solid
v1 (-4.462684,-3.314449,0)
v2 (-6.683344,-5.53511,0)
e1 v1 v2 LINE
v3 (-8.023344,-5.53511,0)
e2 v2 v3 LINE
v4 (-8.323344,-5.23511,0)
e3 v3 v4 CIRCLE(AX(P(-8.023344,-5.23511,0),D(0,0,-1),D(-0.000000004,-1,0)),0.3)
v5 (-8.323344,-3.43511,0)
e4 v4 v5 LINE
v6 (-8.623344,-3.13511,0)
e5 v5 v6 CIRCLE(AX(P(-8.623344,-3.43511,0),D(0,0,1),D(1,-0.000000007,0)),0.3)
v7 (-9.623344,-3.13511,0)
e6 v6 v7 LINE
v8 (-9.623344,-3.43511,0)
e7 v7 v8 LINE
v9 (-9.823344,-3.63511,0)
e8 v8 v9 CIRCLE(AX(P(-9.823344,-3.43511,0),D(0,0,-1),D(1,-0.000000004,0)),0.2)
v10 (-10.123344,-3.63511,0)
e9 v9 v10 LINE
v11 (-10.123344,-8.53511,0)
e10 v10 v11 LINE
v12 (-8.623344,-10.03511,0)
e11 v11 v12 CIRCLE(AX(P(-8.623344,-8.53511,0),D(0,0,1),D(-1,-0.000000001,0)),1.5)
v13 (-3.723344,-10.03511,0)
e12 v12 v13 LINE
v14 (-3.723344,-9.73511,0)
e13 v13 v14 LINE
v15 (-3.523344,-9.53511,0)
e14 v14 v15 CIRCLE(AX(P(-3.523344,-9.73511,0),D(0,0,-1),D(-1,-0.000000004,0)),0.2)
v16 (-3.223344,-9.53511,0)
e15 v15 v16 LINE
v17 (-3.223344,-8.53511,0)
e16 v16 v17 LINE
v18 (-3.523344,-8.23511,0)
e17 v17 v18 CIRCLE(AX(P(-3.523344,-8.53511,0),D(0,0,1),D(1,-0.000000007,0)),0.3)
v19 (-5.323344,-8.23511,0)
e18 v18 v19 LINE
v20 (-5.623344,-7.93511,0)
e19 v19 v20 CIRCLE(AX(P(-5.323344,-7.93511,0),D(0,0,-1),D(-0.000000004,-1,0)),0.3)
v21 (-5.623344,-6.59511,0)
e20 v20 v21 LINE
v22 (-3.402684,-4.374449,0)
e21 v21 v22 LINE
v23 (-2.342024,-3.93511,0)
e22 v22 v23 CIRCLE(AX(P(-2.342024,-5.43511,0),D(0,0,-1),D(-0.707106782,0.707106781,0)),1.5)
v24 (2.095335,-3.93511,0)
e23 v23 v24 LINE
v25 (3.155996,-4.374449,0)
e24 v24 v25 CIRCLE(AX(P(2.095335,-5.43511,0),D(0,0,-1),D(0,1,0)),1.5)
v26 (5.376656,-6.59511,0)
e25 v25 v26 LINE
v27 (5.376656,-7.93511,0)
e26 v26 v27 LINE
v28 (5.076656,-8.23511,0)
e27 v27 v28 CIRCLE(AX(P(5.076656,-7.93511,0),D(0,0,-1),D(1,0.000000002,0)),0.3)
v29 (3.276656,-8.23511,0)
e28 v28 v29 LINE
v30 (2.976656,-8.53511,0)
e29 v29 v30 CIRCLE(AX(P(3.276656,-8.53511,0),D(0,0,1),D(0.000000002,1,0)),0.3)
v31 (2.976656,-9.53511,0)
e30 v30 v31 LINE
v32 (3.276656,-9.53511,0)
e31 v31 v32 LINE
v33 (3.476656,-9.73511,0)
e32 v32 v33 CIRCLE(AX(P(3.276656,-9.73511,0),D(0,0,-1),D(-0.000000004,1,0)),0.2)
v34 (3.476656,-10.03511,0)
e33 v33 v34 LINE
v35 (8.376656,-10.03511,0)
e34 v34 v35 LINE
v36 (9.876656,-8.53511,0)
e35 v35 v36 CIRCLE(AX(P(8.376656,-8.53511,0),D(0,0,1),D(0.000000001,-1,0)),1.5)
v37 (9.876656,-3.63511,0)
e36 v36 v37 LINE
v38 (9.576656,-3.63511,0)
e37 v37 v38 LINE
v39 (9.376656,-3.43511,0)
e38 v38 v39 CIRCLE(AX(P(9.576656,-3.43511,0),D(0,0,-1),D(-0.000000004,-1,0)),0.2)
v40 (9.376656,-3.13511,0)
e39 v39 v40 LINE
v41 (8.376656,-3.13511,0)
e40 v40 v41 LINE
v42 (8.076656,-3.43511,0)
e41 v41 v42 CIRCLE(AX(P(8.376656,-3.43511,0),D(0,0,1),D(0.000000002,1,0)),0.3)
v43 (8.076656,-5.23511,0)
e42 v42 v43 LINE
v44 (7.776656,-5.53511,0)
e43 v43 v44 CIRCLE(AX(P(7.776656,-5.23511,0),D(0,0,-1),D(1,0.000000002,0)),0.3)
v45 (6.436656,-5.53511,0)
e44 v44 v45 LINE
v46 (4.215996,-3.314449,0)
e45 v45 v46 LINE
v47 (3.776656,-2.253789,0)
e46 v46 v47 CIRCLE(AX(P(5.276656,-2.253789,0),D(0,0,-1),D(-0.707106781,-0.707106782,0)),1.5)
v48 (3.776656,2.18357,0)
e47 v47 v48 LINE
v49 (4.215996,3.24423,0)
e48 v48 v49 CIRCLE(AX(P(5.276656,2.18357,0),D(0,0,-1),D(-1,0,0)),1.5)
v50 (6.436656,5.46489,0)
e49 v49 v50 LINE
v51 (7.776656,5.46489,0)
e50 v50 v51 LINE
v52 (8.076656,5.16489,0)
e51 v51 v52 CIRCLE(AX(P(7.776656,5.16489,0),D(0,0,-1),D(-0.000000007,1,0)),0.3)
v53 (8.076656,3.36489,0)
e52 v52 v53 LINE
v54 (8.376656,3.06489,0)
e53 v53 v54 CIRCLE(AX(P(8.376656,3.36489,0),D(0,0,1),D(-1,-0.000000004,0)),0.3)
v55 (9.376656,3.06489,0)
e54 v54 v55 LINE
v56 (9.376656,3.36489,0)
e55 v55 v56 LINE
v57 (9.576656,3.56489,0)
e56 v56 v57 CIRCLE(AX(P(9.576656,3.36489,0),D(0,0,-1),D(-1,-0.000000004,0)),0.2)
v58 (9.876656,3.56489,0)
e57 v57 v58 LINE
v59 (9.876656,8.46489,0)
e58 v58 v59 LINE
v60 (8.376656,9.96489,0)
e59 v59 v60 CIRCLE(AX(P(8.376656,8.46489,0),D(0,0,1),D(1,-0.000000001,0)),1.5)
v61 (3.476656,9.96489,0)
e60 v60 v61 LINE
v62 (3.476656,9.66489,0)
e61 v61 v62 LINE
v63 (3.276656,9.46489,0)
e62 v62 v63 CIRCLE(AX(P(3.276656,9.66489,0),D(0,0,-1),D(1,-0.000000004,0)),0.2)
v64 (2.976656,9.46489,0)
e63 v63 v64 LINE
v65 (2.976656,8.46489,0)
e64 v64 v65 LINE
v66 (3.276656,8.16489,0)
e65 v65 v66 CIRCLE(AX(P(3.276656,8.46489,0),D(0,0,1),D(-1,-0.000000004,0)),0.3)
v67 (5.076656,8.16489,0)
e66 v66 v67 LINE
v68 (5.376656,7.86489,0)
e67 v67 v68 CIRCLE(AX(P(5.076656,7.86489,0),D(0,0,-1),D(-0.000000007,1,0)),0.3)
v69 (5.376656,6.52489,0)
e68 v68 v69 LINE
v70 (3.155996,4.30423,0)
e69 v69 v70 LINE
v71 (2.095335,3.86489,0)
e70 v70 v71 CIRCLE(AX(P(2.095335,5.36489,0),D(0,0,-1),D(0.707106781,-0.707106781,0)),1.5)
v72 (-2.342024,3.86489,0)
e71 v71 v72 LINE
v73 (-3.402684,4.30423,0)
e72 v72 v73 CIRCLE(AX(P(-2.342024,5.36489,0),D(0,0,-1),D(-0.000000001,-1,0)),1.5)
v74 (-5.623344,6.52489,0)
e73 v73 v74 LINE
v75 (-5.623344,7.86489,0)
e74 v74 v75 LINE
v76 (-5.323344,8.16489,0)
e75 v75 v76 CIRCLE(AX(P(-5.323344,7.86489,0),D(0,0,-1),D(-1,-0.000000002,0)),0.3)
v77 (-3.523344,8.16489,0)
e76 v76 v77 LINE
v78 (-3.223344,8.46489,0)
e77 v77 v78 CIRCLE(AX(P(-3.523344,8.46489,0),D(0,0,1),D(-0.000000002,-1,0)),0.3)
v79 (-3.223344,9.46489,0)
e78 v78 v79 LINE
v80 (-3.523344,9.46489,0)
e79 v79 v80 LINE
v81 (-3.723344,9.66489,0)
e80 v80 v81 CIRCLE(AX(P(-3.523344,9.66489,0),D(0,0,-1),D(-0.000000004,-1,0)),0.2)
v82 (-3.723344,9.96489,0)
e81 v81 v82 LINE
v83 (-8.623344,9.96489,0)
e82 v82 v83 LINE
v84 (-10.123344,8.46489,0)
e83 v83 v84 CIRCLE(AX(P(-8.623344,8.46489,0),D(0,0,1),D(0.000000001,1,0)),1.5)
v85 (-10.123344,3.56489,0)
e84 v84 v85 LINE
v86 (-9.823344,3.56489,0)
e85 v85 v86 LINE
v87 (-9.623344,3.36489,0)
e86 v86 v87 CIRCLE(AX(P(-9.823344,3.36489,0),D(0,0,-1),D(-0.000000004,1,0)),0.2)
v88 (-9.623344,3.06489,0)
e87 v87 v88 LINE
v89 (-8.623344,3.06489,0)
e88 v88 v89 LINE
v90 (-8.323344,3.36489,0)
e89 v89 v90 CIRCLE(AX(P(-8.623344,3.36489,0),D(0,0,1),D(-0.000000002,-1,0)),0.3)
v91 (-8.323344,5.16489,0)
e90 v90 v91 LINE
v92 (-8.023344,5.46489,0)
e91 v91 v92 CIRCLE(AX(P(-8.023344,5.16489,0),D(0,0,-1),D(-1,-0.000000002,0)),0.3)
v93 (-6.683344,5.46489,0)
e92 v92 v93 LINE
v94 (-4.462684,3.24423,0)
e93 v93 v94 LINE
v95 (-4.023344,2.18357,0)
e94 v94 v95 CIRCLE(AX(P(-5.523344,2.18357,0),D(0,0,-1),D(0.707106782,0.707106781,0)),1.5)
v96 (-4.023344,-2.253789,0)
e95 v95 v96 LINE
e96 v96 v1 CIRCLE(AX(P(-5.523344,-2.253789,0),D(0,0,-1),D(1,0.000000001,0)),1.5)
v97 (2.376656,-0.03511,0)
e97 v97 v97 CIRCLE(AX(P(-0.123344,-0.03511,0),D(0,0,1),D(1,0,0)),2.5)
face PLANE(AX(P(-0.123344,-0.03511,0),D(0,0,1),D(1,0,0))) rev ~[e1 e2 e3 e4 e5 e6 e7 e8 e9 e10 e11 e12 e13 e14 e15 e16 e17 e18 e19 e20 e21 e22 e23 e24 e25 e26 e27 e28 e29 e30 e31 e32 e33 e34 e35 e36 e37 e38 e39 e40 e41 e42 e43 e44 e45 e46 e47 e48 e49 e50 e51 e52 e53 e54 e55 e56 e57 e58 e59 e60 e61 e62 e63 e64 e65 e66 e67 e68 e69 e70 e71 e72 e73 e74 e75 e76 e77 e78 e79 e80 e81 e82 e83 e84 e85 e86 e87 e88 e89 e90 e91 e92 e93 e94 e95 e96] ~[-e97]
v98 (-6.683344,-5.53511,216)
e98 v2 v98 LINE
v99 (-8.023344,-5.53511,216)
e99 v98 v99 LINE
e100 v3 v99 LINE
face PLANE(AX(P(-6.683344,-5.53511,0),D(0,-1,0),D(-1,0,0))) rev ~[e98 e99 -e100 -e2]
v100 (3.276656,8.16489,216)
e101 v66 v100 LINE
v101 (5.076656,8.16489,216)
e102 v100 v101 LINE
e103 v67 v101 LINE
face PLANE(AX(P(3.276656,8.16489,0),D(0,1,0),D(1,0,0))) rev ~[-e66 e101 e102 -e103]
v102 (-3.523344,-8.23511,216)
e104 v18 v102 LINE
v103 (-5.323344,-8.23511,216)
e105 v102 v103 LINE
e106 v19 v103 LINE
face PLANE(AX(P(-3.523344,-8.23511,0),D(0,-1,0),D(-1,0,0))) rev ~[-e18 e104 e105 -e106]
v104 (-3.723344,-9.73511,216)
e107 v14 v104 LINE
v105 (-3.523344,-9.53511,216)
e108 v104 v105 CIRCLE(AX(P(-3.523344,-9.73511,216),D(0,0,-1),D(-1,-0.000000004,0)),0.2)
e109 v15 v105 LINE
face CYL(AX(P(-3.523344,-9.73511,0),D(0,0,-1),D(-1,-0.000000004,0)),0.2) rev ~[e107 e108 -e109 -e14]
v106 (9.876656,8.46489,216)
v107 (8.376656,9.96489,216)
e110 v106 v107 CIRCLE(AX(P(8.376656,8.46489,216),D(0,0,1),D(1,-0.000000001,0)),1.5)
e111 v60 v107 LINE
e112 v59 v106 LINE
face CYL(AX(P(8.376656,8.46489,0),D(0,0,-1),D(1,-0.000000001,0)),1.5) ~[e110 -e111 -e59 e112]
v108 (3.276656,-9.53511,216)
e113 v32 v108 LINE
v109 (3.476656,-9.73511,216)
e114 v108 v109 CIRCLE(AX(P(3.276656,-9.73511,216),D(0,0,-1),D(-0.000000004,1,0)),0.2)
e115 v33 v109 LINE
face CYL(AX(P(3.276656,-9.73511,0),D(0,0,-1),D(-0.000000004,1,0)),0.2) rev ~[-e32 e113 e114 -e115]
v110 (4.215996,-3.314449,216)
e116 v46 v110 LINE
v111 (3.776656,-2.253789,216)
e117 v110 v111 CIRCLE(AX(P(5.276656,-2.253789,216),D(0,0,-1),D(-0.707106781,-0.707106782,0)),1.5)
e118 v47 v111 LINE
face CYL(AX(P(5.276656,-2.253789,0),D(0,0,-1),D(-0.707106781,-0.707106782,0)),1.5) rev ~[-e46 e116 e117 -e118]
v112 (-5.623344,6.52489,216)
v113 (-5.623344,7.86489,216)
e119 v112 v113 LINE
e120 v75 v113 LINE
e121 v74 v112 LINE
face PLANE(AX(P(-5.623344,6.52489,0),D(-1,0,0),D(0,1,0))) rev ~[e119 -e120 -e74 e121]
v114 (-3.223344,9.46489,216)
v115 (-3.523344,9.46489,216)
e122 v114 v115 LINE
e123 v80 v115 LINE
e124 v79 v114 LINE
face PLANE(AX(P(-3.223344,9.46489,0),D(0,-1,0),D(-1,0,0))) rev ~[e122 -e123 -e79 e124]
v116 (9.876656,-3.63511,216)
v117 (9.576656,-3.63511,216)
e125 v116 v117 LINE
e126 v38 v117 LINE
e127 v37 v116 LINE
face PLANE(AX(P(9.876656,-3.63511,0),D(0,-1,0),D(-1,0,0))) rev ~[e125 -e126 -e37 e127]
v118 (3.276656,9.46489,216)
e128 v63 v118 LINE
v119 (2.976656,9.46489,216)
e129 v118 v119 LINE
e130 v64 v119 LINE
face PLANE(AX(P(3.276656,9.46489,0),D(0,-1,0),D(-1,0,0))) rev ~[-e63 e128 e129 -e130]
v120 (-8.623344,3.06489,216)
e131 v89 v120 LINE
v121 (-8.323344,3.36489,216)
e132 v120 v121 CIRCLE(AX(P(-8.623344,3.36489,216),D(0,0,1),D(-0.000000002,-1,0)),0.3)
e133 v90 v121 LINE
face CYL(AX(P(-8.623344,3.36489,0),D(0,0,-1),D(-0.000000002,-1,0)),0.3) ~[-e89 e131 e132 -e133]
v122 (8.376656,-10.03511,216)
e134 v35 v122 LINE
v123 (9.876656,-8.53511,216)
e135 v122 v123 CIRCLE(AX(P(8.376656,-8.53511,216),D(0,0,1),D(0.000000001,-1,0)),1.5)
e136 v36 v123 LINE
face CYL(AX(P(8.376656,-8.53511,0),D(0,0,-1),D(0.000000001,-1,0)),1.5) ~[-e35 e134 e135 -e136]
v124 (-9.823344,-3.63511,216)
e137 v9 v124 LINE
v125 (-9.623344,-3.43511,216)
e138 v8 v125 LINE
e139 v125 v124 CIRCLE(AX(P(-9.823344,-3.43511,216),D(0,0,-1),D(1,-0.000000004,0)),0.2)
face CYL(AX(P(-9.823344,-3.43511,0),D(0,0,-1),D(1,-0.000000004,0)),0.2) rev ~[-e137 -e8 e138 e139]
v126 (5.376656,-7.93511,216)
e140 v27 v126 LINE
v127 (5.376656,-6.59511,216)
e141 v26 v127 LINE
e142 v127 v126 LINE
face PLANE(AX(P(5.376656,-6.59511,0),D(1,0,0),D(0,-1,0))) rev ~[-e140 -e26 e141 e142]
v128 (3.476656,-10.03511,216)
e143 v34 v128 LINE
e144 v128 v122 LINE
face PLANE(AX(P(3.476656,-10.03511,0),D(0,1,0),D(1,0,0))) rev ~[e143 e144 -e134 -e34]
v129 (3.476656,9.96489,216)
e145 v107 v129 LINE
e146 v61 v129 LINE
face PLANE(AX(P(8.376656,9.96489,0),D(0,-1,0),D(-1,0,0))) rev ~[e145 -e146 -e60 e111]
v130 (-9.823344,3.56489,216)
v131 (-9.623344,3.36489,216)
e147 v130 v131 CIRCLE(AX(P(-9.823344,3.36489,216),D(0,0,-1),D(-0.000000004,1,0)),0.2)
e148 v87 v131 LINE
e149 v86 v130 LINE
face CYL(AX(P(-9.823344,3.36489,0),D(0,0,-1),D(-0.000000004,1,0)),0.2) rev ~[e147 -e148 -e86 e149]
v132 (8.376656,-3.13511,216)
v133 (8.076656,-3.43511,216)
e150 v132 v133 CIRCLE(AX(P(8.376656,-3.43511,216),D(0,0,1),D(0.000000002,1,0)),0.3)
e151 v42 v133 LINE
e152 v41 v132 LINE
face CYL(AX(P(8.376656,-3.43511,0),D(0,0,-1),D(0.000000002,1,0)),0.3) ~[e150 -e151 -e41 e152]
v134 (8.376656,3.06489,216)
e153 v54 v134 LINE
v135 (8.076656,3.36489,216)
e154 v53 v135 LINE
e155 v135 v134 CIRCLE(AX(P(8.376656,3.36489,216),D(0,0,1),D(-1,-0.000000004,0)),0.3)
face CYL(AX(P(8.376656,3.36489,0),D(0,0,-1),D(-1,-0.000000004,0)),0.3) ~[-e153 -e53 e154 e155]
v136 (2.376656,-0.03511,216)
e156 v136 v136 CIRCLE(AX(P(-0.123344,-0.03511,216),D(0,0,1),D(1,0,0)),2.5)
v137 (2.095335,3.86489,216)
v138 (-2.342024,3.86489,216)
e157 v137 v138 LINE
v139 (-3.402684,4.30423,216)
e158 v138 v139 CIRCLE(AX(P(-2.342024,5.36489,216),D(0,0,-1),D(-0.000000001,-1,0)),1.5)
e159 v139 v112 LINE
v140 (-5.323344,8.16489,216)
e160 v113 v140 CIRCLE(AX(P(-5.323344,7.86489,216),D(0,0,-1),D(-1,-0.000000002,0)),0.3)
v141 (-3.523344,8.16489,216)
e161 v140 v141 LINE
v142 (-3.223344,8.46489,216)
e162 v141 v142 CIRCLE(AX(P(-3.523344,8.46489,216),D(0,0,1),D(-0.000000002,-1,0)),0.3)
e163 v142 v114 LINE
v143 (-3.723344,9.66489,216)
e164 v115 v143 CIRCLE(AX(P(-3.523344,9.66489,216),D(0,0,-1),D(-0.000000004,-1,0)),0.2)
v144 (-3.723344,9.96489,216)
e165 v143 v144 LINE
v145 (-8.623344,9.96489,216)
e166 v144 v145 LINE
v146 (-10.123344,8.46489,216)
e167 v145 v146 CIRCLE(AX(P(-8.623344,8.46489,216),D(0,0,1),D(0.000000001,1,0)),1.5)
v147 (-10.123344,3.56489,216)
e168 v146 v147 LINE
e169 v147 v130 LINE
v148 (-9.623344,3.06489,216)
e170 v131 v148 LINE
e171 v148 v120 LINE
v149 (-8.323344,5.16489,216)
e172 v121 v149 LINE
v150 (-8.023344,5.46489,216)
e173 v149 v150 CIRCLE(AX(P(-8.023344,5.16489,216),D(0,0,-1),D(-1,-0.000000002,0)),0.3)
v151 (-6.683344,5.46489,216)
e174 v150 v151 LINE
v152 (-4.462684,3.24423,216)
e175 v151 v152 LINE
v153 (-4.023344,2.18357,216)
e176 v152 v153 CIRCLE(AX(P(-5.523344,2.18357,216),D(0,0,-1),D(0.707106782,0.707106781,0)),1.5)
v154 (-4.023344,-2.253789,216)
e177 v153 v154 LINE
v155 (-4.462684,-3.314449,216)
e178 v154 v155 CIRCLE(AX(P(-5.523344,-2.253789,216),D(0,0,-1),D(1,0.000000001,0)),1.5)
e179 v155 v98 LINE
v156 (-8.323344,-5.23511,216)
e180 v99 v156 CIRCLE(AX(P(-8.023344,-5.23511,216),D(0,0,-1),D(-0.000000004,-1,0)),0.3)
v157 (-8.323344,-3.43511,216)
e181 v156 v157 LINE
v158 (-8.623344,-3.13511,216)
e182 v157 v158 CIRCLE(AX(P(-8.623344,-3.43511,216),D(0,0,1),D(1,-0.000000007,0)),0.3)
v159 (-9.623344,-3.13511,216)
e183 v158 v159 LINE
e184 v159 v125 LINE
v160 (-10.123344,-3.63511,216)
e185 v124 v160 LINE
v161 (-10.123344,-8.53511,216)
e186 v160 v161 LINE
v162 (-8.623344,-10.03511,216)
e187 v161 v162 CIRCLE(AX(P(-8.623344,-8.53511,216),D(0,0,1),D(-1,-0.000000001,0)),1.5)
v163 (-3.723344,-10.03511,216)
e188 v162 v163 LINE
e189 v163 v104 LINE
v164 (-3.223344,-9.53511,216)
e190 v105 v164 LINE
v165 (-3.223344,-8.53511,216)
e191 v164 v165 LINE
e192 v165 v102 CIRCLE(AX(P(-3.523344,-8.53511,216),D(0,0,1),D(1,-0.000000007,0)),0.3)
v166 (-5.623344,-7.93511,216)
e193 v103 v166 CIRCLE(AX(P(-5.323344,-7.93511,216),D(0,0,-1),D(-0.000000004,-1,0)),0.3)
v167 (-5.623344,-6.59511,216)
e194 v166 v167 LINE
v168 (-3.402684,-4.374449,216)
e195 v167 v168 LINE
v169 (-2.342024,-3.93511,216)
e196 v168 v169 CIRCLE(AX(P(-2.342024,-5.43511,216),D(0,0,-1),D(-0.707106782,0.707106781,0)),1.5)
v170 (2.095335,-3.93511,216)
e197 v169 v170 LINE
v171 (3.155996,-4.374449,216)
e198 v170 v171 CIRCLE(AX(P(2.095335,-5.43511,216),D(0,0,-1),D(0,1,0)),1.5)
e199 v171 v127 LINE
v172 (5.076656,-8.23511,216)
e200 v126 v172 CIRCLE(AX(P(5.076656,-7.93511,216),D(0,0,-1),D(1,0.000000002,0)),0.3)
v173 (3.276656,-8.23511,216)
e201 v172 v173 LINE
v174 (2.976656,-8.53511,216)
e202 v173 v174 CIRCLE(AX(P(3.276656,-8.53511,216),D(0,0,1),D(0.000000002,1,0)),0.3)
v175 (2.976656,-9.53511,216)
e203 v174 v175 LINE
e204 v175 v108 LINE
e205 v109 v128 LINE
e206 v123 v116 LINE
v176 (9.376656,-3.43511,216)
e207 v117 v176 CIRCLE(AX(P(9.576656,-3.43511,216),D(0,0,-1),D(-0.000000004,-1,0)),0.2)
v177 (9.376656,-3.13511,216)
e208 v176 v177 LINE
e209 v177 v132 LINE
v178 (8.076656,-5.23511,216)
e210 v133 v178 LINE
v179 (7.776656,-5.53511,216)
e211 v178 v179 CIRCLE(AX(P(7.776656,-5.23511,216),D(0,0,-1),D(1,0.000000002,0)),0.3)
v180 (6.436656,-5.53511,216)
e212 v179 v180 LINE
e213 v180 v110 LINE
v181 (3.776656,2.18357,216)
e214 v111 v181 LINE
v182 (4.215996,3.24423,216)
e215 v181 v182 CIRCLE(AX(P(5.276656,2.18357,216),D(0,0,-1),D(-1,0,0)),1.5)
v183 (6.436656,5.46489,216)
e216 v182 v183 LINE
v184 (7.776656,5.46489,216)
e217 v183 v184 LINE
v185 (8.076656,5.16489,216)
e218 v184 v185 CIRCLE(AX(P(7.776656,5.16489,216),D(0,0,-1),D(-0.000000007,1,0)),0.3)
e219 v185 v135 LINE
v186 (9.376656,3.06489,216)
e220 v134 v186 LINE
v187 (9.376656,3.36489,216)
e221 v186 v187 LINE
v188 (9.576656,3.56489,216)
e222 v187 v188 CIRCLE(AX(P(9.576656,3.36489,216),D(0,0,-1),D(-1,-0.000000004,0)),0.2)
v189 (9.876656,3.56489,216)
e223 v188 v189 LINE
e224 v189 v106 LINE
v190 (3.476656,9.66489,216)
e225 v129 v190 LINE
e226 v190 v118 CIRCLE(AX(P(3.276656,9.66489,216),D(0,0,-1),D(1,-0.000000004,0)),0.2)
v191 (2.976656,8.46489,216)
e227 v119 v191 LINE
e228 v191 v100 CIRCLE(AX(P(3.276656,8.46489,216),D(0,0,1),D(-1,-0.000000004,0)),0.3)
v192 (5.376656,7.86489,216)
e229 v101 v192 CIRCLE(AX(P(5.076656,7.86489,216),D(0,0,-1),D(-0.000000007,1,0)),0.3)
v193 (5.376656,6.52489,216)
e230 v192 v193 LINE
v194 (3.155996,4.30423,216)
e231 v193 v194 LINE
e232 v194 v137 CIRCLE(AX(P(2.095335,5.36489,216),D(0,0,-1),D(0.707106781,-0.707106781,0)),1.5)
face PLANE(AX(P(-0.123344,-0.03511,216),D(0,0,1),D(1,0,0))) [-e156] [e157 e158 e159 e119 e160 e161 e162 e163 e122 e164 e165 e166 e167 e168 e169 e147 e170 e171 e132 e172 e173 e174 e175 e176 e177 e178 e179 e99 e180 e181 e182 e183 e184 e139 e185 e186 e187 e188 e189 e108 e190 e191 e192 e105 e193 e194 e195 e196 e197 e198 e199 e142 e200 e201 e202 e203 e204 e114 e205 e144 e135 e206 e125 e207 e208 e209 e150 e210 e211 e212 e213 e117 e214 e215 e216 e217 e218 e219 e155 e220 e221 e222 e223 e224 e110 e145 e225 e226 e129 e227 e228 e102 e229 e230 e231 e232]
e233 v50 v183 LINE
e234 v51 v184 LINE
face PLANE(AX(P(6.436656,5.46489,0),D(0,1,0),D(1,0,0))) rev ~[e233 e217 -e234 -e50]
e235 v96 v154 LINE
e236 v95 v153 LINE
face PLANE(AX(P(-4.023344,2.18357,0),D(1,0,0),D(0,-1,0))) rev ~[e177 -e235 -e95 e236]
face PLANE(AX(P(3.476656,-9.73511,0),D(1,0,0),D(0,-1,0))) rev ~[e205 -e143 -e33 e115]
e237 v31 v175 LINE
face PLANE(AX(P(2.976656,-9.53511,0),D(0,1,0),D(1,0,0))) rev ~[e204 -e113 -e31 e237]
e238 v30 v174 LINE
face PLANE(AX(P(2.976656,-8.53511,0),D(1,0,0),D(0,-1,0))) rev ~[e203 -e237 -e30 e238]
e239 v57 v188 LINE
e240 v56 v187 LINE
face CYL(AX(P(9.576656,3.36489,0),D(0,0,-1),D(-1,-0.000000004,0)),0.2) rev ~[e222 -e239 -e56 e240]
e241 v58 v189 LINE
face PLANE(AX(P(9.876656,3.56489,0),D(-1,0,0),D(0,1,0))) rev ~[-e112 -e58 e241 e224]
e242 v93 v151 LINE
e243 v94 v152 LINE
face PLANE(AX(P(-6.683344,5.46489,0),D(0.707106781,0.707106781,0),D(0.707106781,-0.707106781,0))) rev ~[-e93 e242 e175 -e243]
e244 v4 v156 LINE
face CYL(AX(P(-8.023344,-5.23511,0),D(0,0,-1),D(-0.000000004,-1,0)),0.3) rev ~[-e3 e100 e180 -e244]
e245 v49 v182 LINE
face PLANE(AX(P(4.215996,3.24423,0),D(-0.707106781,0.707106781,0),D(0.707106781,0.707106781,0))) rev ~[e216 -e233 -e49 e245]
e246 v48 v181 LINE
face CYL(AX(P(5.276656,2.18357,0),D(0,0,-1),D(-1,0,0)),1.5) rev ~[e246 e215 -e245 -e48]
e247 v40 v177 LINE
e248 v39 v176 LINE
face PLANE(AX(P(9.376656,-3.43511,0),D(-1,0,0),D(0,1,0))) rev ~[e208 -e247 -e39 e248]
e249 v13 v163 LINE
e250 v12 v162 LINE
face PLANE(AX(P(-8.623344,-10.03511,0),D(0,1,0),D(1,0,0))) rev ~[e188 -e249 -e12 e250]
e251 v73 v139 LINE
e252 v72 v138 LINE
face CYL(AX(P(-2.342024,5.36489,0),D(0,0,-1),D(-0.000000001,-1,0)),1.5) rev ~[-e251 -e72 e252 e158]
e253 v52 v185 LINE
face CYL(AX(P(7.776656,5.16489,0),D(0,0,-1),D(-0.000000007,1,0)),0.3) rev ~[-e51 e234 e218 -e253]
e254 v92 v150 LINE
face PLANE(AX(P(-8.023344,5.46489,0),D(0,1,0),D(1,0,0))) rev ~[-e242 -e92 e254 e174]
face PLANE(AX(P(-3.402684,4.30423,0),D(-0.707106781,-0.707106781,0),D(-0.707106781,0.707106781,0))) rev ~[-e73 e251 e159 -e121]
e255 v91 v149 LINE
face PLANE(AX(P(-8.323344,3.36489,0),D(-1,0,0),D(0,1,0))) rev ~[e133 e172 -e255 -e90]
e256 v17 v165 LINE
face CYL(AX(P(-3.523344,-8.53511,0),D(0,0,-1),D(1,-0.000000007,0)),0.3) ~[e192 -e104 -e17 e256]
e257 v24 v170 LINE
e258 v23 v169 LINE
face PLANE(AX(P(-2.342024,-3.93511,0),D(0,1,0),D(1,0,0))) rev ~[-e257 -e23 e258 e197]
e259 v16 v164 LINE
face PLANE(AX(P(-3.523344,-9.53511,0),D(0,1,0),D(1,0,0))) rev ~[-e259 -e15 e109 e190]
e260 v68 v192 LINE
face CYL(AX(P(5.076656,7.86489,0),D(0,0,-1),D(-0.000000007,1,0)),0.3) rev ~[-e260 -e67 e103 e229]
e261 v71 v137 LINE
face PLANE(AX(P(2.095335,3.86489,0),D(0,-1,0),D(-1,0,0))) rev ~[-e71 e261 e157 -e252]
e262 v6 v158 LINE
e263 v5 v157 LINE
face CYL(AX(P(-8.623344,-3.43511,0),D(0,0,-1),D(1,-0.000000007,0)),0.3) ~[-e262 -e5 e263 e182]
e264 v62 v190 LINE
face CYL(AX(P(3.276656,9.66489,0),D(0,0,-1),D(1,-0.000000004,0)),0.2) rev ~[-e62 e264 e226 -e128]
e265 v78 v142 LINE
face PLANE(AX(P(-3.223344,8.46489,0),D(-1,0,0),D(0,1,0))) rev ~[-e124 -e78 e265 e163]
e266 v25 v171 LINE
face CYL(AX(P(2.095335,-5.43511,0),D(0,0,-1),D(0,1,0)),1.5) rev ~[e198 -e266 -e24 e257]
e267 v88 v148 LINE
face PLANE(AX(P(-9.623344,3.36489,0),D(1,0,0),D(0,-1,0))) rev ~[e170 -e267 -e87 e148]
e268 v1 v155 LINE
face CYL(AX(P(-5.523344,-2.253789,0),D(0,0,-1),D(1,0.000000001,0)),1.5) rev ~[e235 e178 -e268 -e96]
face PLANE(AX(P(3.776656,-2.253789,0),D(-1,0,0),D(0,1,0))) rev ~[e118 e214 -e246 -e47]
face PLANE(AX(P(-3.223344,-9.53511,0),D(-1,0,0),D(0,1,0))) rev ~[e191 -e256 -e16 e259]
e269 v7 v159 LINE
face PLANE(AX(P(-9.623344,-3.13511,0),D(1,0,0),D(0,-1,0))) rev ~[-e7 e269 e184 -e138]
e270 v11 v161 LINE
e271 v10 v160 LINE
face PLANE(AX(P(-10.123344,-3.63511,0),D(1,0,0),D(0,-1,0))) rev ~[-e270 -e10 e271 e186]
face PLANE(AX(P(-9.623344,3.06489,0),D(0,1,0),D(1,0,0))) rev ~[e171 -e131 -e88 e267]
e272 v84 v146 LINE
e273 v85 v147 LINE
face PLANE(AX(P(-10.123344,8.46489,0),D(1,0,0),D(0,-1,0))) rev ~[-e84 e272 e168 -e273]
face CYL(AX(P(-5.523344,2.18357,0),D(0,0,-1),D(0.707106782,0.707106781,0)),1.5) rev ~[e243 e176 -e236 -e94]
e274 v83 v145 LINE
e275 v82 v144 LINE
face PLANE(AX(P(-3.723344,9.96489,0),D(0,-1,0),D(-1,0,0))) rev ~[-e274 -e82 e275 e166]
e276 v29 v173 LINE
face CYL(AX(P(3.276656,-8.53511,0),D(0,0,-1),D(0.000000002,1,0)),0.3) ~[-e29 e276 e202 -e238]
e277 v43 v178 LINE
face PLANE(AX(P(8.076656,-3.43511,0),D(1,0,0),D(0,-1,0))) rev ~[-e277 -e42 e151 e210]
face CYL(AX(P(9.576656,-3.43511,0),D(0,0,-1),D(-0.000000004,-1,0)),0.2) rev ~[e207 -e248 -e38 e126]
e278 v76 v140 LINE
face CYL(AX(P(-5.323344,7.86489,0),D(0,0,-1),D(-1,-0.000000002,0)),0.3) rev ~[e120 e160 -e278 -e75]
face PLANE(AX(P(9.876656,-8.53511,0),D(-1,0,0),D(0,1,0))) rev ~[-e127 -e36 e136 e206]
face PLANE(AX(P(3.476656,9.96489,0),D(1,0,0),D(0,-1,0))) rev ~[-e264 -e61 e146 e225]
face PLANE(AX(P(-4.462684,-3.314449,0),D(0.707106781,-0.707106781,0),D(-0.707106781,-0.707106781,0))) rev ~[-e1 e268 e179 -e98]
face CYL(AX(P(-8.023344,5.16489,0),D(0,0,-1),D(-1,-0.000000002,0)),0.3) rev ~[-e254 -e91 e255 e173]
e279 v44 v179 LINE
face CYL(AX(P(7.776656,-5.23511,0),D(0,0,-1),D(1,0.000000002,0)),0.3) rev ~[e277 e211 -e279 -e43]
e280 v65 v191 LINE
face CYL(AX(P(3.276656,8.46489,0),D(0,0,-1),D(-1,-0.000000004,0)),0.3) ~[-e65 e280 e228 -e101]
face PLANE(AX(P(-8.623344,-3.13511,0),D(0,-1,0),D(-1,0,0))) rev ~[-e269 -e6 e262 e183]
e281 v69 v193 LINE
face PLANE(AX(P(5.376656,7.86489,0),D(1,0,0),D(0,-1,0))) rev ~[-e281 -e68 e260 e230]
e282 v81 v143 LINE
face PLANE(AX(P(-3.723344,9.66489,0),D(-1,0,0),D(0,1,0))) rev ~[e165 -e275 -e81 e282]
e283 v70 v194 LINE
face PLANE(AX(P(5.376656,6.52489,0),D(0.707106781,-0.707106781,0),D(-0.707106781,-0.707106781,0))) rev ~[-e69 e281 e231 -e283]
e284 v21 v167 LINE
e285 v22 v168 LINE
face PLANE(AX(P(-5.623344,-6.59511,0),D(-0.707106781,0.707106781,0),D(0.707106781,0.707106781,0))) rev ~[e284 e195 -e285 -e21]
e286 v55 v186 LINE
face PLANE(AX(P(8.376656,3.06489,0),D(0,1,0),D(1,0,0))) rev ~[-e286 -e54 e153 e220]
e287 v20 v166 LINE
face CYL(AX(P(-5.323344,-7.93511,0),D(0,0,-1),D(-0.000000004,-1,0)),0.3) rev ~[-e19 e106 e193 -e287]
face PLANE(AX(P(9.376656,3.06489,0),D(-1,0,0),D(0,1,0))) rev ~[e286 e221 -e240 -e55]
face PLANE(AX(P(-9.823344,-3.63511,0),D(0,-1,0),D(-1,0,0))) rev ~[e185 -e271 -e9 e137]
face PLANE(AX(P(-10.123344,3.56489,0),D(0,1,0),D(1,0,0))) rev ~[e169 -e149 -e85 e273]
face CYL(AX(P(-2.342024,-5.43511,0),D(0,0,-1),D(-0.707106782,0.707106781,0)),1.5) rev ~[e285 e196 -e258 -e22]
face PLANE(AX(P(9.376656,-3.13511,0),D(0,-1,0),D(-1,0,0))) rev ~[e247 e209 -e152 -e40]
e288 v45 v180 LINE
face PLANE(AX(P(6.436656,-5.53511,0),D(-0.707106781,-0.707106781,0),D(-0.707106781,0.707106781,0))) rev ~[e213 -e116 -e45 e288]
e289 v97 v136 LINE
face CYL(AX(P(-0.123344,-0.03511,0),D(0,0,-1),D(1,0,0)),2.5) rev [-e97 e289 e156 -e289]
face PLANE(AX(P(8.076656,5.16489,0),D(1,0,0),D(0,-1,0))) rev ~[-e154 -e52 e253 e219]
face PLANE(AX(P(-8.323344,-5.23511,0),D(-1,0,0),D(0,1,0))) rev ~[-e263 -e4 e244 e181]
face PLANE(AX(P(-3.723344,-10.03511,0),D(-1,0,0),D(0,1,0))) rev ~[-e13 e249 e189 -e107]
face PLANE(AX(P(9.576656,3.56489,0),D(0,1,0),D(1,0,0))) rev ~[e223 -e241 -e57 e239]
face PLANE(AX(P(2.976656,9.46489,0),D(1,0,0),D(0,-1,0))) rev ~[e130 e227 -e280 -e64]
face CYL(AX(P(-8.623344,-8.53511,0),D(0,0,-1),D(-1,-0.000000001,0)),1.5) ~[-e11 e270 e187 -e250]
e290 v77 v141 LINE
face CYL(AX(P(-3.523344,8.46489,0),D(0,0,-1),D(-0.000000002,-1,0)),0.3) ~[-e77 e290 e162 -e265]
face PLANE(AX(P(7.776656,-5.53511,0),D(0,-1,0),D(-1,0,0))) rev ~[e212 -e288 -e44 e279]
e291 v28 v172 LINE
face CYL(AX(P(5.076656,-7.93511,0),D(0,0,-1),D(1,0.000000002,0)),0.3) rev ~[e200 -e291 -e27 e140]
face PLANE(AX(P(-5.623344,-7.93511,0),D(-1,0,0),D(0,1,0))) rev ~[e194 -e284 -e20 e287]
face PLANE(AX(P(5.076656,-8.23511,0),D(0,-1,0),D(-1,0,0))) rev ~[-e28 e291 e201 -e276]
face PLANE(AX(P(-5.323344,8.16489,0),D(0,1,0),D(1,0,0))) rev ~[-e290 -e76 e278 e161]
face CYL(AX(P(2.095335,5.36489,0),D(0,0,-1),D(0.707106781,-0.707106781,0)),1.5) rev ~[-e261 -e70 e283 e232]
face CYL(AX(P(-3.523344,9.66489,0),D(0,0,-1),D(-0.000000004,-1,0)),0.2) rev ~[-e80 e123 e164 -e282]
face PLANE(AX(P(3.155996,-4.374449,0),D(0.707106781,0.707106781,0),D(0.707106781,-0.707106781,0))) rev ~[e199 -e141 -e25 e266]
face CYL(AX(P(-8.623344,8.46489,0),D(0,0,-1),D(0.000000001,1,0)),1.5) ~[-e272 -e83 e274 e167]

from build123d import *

# Parameters (mm, degrees)
SKETCH_1_R      = 2.5
EXTRUDE_1_DEPTH = 216


with BuildPart() as part:
    # 草图1 → 凸台-拉伸1 (new body)
    with BuildSketch(Plane.XY):
        with BuildLine():
            Line((4.215995631, 3.244230202), (6.436655803, 5.464890373))
            Line((6.436655803, 5.464890373), (7.776655803, 5.464890373))
            ThreePointArc((7.776655803, 5.464890373), (7.988787838, 5.377022408), (8.076655803, 5.164890373))
            Line((8.076655803, 5.164890373), (8.076655803, 3.364890373))
            ThreePointArc((8.076655803, 3.364890373), (8.164523769, 3.152758339), (8.376655803, 3.064890373))
            Line((8.376655803, 3.064890373), (9.376655803, 3.064890373))
            Line((9.376655803, 3.064890373), (9.376655803, 3.364890373))
            ThreePointArc((9.376655803, 3.364890373), (9.435234447, 3.50631173), (9.576655803, 3.564890373))
            Line((9.576655803, 3.564890373), (9.876655803, 3.564890373))
            Line((9.876655803, 3.564890373), (9.876655803, 8.464890373))
            ThreePointArc((9.876655803, 8.464890373), (9.437315975, 9.525550545), (8.376655803, 9.964890373))
            Line((8.376655803, 9.964890373), (3.476655803, 9.964890373))
            Line((3.476655803, 9.964890373), (3.476655803, 9.664890373))
            ThreePointArc((3.476655803, 9.664890373), (3.418077159, 9.523469017), (3.276655803, 9.464890373))
            Line((3.276655803, 9.464890373), (2.976655803, 9.464890373))
            Line((2.976655803, 9.464890373), (2.976655803, 8.464890373))
            ThreePointArc((2.976655803, 8.464890373), (3.064523769, 8.252758339), (3.276655803, 8.164890373))
            Line((3.276655803, 8.164890373), (5.076655803, 8.164890373))
            ThreePointArc((5.076655803, 8.164890373), (5.288787838, 8.077022408), (5.376655803, 7.864890373))
            Line((5.376655803, 7.864890373), (5.376655803, 6.524890373))
            Line((5.376655803, 6.524890373), (3.155995631, 4.304230202))
            ThreePointArc((3.155995631, 4.304230202), (2.669360608, 3.979071075), (2.09533546, 3.864890373))
            Line((2.09533546, 3.864890373), (-2.342023853, 3.864890373))
            ThreePointArc((-2.342023853, 3.864890373), (-2.916049002, 3.979071075), (-3.402684025, 4.304230202))
            Line((-3.402684025, 4.304230202), (-5.623344197, 6.524890373))
            Line((-5.623344197, 6.524890373), (-5.623344197, 7.864890373))
            ThreePointArc((-5.623344197, 7.864890373), (-5.535476231, 8.077022408), (-5.323344197, 8.164890373))
            Line((-5.323344197, 8.164890373), (-3.523344197, 8.164890373))
            ThreePointArc((-3.523344197, 8.164890373), (-3.311212162, 8.252758339), (-3.223344197, 8.464890373))
            Line((-3.223344197, 8.464890373), (-3.223344197, 9.464890373))
            Line((-3.223344197, 9.464890373), (-3.523344197, 9.464890373))
            ThreePointArc((-3.523344197, 9.464890373), (-3.664765553, 9.523469017), (-3.723344197, 9.664890373))
            Line((-3.723344197, 9.664890373), (-3.723344197, 9.964890373))
            Line((-3.723344197, 9.964890373), (-8.623344197, 9.964890373))
            ThreePointArc((-8.623344197, 9.964890373), (-9.684004369, 9.525550545), (-10.123344197, 8.464890373))
            Line((-10.123344197, 8.464890373), (-10.123344197, 3.564890373))
            Line((-10.123344197, 3.564890373), (-9.823344197, 3.564890373))
            ThreePointArc((-9.823344197, 3.564890373), (-9.681922841, 3.50631173), (-9.623344197, 3.364890373))
            Line((-9.623344197, 3.364890373), (-9.623344197, 3.064890373))
            Line((-9.623344197, 3.064890373), (-8.623344197, 3.064890373))
            ThreePointArc((-8.623344197, 3.064890373), (-8.411212162, 3.152758339), (-8.323344197, 3.364890373))
            Line((-8.323344197, 3.364890373), (-8.323344197, 5.164890373))
            ThreePointArc((-8.323344197, 5.164890373), (-8.235476231, 5.377022408), (-8.023344197, 5.464890373))
            Line((-8.023344197, 5.464890373), (-6.683344197, 5.464890373))
            Line((-6.683344197, 5.464890373), (-4.462684025, 3.244230202))
            ThreePointArc((-4.462684025, 3.244230202), (-4.137524898, 2.757595178), (-4.023344197, 2.18357003))
            Line((-4.023344197, 2.18357003), (-4.023344197, -2.253789283))
            ThreePointArc((-4.023344197, -2.253789283), (-4.137524898, -2.827814432), (-4.462684025, -3.314449455))
            Line((-4.462684025, -3.314449455), (-6.683344197, -5.535109627))
            Line((-6.683344197, -5.535109627), (-8.023344197, -5.535109627))
            ThreePointArc((-8.023344197, -5.535109627), (-8.235476231, -5.447241661), (-8.323344197, -5.235109627))
            Line((-8.323344197, -5.235109627), (-8.323344197, -3.435109627))
            ThreePointArc((-8.323344197, -3.435109627), (-8.411212162, -3.222977592), (-8.623344197, -3.135109627))
            Line((-8.623344197, -3.135109627), (-9.623344197, -3.135109627))
            Line((-9.623344197, -3.135109627), (-9.623344197, -3.435109627))
            ThreePointArc((-9.623344197, -3.435109627), (-9.681922841, -3.576530983), (-9.823344197, -3.635109627))
            Line((-9.823344197, -3.635109627), (-10.123344197, -3.635109627))
            Line((-10.123344197, -3.635109627), (-10.123344197, -8.535109627))
            ThreePointArc((-10.123344197, -8.535109627), (-9.684004369, -9.595769798), (-8.623344197, -10.035109627))
            Line((-8.623344197, -10.035109627), (-3.723344197, -10.035109627))
            Line((-3.723344197, -10.035109627), (-3.723344197, -9.735109627))
            ThreePointArc((-3.723344197, -9.735109627), (-3.664765553, -9.59368827), (-3.523344197, -9.535109627))
            Line((-3.523344197, -9.535109627), (-3.223344197, -9.535109627))
            Line((-3.223344197, -9.535109627), (-3.223344197, -8.535109627))
            ThreePointArc((-3.223344197, -8.535109627), (-3.311212162, -8.322977592), (-3.523344197, -8.235109627))
            Line((-3.523344197, -8.235109627), (-5.323344197, -8.235109627))
            ThreePointArc((-5.323344197, -8.235109627), (-5.535476231, -8.147241661), (-5.623344197, -7.935109627))
            Line((-5.623344197, -7.935109627), (-5.623344197, -6.595109627))
            Line((-5.623344197, -6.595109627), (-3.402684025, -4.374449455))
            ThreePointArc((-3.402684025, -4.374449455), (-2.916049002, -4.049290328), (-2.342023853, -3.935109627))
            Line((-2.342023853, -3.935109627), (2.09533546, -3.935109627))
            ThreePointArc((2.09533546, -3.935109627), (2.669360608, -4.049290328), (3.155995631, -4.374449455))
            Line((3.155995631, -4.374449455), (5.376655803, -6.595109627))
            Line((5.376655803, -6.595109627), (5.376655803, -7.935109627))
            ThreePointArc((5.376655803, -7.935109627), (5.288787838, -8.147241661), (5.076655803, -8.235109627))
            Line((5.076655803, -8.235109627), (3.276655803, -8.235109627))
            ThreePointArc((3.276655803, -8.235109627), (3.064523769, -8.322977592), (2.976655803, -8.535109627))
            Line((2.976655803, -8.535109627), (2.976655803, -9.535109627))
            Line((2.976655803, -9.535109627), (3.276655803, -9.535109627))
            ThreePointArc((3.276655803, -9.535109627), (3.418077159, -9.59368827), (3.476655803, -9.735109627))
            Line((3.476655803, -9.735109627), (3.476655803, -10.035109627))
            Line((3.476655803, -10.035109627), (8.376655803, -10.035109627))
            ThreePointArc((8.376655803, -10.035109627), (9.437315975, -9.595769798), (9.876655803, -8.535109627))
            Line((9.876655803, -8.535109627), (9.876655803, -3.635109627))
            Line((9.876655803, -3.635109627), (9.576655803, -3.635109627))
            ThreePointArc((9.576655803, -3.635109627), (9.435234447, -3.576530983), (9.376655803, -3.435109627))
            Line((9.376655803, -3.435109627), (9.376655803, -3.135109627))
            Line((9.376655803, -3.135109627), (8.376655803, -3.135109627))
            ThreePointArc((8.376655803, -3.135109627), (8.164523769, -3.222977592), (8.076655803, -3.435109627))
            Line((8.076655803, -3.435109627), (8.076655803, -5.235109627))
            ThreePointArc((8.076655803, -5.235109627), (7.988787838, -5.447241661), (7.776655803, -5.535109627))
            Line((7.776655803, -5.535109627), (6.436655803, -5.535109627))
            Line((6.436655803, -5.535109627), (4.215995631, -3.314449455))
            ThreePointArc((4.215995631, -3.314449455), (3.890836504, -2.827814432), (3.776655803, -2.253789283))
            Line((3.776655803, -2.253789283), (3.776655803, 2.18357003))
            ThreePointArc((3.776655803, 2.18357003), (3.890836504, 2.757595178), (4.215995631, 3.244230202))
        make_face()
        with Locations((-0.123344197, -0.035109627)):
            Circle(SKETCH_1_R, mode=Mode.SUBTRACT)
    extrude(amount=EXTRUDE_1_DEPTH)


solid = part.part
